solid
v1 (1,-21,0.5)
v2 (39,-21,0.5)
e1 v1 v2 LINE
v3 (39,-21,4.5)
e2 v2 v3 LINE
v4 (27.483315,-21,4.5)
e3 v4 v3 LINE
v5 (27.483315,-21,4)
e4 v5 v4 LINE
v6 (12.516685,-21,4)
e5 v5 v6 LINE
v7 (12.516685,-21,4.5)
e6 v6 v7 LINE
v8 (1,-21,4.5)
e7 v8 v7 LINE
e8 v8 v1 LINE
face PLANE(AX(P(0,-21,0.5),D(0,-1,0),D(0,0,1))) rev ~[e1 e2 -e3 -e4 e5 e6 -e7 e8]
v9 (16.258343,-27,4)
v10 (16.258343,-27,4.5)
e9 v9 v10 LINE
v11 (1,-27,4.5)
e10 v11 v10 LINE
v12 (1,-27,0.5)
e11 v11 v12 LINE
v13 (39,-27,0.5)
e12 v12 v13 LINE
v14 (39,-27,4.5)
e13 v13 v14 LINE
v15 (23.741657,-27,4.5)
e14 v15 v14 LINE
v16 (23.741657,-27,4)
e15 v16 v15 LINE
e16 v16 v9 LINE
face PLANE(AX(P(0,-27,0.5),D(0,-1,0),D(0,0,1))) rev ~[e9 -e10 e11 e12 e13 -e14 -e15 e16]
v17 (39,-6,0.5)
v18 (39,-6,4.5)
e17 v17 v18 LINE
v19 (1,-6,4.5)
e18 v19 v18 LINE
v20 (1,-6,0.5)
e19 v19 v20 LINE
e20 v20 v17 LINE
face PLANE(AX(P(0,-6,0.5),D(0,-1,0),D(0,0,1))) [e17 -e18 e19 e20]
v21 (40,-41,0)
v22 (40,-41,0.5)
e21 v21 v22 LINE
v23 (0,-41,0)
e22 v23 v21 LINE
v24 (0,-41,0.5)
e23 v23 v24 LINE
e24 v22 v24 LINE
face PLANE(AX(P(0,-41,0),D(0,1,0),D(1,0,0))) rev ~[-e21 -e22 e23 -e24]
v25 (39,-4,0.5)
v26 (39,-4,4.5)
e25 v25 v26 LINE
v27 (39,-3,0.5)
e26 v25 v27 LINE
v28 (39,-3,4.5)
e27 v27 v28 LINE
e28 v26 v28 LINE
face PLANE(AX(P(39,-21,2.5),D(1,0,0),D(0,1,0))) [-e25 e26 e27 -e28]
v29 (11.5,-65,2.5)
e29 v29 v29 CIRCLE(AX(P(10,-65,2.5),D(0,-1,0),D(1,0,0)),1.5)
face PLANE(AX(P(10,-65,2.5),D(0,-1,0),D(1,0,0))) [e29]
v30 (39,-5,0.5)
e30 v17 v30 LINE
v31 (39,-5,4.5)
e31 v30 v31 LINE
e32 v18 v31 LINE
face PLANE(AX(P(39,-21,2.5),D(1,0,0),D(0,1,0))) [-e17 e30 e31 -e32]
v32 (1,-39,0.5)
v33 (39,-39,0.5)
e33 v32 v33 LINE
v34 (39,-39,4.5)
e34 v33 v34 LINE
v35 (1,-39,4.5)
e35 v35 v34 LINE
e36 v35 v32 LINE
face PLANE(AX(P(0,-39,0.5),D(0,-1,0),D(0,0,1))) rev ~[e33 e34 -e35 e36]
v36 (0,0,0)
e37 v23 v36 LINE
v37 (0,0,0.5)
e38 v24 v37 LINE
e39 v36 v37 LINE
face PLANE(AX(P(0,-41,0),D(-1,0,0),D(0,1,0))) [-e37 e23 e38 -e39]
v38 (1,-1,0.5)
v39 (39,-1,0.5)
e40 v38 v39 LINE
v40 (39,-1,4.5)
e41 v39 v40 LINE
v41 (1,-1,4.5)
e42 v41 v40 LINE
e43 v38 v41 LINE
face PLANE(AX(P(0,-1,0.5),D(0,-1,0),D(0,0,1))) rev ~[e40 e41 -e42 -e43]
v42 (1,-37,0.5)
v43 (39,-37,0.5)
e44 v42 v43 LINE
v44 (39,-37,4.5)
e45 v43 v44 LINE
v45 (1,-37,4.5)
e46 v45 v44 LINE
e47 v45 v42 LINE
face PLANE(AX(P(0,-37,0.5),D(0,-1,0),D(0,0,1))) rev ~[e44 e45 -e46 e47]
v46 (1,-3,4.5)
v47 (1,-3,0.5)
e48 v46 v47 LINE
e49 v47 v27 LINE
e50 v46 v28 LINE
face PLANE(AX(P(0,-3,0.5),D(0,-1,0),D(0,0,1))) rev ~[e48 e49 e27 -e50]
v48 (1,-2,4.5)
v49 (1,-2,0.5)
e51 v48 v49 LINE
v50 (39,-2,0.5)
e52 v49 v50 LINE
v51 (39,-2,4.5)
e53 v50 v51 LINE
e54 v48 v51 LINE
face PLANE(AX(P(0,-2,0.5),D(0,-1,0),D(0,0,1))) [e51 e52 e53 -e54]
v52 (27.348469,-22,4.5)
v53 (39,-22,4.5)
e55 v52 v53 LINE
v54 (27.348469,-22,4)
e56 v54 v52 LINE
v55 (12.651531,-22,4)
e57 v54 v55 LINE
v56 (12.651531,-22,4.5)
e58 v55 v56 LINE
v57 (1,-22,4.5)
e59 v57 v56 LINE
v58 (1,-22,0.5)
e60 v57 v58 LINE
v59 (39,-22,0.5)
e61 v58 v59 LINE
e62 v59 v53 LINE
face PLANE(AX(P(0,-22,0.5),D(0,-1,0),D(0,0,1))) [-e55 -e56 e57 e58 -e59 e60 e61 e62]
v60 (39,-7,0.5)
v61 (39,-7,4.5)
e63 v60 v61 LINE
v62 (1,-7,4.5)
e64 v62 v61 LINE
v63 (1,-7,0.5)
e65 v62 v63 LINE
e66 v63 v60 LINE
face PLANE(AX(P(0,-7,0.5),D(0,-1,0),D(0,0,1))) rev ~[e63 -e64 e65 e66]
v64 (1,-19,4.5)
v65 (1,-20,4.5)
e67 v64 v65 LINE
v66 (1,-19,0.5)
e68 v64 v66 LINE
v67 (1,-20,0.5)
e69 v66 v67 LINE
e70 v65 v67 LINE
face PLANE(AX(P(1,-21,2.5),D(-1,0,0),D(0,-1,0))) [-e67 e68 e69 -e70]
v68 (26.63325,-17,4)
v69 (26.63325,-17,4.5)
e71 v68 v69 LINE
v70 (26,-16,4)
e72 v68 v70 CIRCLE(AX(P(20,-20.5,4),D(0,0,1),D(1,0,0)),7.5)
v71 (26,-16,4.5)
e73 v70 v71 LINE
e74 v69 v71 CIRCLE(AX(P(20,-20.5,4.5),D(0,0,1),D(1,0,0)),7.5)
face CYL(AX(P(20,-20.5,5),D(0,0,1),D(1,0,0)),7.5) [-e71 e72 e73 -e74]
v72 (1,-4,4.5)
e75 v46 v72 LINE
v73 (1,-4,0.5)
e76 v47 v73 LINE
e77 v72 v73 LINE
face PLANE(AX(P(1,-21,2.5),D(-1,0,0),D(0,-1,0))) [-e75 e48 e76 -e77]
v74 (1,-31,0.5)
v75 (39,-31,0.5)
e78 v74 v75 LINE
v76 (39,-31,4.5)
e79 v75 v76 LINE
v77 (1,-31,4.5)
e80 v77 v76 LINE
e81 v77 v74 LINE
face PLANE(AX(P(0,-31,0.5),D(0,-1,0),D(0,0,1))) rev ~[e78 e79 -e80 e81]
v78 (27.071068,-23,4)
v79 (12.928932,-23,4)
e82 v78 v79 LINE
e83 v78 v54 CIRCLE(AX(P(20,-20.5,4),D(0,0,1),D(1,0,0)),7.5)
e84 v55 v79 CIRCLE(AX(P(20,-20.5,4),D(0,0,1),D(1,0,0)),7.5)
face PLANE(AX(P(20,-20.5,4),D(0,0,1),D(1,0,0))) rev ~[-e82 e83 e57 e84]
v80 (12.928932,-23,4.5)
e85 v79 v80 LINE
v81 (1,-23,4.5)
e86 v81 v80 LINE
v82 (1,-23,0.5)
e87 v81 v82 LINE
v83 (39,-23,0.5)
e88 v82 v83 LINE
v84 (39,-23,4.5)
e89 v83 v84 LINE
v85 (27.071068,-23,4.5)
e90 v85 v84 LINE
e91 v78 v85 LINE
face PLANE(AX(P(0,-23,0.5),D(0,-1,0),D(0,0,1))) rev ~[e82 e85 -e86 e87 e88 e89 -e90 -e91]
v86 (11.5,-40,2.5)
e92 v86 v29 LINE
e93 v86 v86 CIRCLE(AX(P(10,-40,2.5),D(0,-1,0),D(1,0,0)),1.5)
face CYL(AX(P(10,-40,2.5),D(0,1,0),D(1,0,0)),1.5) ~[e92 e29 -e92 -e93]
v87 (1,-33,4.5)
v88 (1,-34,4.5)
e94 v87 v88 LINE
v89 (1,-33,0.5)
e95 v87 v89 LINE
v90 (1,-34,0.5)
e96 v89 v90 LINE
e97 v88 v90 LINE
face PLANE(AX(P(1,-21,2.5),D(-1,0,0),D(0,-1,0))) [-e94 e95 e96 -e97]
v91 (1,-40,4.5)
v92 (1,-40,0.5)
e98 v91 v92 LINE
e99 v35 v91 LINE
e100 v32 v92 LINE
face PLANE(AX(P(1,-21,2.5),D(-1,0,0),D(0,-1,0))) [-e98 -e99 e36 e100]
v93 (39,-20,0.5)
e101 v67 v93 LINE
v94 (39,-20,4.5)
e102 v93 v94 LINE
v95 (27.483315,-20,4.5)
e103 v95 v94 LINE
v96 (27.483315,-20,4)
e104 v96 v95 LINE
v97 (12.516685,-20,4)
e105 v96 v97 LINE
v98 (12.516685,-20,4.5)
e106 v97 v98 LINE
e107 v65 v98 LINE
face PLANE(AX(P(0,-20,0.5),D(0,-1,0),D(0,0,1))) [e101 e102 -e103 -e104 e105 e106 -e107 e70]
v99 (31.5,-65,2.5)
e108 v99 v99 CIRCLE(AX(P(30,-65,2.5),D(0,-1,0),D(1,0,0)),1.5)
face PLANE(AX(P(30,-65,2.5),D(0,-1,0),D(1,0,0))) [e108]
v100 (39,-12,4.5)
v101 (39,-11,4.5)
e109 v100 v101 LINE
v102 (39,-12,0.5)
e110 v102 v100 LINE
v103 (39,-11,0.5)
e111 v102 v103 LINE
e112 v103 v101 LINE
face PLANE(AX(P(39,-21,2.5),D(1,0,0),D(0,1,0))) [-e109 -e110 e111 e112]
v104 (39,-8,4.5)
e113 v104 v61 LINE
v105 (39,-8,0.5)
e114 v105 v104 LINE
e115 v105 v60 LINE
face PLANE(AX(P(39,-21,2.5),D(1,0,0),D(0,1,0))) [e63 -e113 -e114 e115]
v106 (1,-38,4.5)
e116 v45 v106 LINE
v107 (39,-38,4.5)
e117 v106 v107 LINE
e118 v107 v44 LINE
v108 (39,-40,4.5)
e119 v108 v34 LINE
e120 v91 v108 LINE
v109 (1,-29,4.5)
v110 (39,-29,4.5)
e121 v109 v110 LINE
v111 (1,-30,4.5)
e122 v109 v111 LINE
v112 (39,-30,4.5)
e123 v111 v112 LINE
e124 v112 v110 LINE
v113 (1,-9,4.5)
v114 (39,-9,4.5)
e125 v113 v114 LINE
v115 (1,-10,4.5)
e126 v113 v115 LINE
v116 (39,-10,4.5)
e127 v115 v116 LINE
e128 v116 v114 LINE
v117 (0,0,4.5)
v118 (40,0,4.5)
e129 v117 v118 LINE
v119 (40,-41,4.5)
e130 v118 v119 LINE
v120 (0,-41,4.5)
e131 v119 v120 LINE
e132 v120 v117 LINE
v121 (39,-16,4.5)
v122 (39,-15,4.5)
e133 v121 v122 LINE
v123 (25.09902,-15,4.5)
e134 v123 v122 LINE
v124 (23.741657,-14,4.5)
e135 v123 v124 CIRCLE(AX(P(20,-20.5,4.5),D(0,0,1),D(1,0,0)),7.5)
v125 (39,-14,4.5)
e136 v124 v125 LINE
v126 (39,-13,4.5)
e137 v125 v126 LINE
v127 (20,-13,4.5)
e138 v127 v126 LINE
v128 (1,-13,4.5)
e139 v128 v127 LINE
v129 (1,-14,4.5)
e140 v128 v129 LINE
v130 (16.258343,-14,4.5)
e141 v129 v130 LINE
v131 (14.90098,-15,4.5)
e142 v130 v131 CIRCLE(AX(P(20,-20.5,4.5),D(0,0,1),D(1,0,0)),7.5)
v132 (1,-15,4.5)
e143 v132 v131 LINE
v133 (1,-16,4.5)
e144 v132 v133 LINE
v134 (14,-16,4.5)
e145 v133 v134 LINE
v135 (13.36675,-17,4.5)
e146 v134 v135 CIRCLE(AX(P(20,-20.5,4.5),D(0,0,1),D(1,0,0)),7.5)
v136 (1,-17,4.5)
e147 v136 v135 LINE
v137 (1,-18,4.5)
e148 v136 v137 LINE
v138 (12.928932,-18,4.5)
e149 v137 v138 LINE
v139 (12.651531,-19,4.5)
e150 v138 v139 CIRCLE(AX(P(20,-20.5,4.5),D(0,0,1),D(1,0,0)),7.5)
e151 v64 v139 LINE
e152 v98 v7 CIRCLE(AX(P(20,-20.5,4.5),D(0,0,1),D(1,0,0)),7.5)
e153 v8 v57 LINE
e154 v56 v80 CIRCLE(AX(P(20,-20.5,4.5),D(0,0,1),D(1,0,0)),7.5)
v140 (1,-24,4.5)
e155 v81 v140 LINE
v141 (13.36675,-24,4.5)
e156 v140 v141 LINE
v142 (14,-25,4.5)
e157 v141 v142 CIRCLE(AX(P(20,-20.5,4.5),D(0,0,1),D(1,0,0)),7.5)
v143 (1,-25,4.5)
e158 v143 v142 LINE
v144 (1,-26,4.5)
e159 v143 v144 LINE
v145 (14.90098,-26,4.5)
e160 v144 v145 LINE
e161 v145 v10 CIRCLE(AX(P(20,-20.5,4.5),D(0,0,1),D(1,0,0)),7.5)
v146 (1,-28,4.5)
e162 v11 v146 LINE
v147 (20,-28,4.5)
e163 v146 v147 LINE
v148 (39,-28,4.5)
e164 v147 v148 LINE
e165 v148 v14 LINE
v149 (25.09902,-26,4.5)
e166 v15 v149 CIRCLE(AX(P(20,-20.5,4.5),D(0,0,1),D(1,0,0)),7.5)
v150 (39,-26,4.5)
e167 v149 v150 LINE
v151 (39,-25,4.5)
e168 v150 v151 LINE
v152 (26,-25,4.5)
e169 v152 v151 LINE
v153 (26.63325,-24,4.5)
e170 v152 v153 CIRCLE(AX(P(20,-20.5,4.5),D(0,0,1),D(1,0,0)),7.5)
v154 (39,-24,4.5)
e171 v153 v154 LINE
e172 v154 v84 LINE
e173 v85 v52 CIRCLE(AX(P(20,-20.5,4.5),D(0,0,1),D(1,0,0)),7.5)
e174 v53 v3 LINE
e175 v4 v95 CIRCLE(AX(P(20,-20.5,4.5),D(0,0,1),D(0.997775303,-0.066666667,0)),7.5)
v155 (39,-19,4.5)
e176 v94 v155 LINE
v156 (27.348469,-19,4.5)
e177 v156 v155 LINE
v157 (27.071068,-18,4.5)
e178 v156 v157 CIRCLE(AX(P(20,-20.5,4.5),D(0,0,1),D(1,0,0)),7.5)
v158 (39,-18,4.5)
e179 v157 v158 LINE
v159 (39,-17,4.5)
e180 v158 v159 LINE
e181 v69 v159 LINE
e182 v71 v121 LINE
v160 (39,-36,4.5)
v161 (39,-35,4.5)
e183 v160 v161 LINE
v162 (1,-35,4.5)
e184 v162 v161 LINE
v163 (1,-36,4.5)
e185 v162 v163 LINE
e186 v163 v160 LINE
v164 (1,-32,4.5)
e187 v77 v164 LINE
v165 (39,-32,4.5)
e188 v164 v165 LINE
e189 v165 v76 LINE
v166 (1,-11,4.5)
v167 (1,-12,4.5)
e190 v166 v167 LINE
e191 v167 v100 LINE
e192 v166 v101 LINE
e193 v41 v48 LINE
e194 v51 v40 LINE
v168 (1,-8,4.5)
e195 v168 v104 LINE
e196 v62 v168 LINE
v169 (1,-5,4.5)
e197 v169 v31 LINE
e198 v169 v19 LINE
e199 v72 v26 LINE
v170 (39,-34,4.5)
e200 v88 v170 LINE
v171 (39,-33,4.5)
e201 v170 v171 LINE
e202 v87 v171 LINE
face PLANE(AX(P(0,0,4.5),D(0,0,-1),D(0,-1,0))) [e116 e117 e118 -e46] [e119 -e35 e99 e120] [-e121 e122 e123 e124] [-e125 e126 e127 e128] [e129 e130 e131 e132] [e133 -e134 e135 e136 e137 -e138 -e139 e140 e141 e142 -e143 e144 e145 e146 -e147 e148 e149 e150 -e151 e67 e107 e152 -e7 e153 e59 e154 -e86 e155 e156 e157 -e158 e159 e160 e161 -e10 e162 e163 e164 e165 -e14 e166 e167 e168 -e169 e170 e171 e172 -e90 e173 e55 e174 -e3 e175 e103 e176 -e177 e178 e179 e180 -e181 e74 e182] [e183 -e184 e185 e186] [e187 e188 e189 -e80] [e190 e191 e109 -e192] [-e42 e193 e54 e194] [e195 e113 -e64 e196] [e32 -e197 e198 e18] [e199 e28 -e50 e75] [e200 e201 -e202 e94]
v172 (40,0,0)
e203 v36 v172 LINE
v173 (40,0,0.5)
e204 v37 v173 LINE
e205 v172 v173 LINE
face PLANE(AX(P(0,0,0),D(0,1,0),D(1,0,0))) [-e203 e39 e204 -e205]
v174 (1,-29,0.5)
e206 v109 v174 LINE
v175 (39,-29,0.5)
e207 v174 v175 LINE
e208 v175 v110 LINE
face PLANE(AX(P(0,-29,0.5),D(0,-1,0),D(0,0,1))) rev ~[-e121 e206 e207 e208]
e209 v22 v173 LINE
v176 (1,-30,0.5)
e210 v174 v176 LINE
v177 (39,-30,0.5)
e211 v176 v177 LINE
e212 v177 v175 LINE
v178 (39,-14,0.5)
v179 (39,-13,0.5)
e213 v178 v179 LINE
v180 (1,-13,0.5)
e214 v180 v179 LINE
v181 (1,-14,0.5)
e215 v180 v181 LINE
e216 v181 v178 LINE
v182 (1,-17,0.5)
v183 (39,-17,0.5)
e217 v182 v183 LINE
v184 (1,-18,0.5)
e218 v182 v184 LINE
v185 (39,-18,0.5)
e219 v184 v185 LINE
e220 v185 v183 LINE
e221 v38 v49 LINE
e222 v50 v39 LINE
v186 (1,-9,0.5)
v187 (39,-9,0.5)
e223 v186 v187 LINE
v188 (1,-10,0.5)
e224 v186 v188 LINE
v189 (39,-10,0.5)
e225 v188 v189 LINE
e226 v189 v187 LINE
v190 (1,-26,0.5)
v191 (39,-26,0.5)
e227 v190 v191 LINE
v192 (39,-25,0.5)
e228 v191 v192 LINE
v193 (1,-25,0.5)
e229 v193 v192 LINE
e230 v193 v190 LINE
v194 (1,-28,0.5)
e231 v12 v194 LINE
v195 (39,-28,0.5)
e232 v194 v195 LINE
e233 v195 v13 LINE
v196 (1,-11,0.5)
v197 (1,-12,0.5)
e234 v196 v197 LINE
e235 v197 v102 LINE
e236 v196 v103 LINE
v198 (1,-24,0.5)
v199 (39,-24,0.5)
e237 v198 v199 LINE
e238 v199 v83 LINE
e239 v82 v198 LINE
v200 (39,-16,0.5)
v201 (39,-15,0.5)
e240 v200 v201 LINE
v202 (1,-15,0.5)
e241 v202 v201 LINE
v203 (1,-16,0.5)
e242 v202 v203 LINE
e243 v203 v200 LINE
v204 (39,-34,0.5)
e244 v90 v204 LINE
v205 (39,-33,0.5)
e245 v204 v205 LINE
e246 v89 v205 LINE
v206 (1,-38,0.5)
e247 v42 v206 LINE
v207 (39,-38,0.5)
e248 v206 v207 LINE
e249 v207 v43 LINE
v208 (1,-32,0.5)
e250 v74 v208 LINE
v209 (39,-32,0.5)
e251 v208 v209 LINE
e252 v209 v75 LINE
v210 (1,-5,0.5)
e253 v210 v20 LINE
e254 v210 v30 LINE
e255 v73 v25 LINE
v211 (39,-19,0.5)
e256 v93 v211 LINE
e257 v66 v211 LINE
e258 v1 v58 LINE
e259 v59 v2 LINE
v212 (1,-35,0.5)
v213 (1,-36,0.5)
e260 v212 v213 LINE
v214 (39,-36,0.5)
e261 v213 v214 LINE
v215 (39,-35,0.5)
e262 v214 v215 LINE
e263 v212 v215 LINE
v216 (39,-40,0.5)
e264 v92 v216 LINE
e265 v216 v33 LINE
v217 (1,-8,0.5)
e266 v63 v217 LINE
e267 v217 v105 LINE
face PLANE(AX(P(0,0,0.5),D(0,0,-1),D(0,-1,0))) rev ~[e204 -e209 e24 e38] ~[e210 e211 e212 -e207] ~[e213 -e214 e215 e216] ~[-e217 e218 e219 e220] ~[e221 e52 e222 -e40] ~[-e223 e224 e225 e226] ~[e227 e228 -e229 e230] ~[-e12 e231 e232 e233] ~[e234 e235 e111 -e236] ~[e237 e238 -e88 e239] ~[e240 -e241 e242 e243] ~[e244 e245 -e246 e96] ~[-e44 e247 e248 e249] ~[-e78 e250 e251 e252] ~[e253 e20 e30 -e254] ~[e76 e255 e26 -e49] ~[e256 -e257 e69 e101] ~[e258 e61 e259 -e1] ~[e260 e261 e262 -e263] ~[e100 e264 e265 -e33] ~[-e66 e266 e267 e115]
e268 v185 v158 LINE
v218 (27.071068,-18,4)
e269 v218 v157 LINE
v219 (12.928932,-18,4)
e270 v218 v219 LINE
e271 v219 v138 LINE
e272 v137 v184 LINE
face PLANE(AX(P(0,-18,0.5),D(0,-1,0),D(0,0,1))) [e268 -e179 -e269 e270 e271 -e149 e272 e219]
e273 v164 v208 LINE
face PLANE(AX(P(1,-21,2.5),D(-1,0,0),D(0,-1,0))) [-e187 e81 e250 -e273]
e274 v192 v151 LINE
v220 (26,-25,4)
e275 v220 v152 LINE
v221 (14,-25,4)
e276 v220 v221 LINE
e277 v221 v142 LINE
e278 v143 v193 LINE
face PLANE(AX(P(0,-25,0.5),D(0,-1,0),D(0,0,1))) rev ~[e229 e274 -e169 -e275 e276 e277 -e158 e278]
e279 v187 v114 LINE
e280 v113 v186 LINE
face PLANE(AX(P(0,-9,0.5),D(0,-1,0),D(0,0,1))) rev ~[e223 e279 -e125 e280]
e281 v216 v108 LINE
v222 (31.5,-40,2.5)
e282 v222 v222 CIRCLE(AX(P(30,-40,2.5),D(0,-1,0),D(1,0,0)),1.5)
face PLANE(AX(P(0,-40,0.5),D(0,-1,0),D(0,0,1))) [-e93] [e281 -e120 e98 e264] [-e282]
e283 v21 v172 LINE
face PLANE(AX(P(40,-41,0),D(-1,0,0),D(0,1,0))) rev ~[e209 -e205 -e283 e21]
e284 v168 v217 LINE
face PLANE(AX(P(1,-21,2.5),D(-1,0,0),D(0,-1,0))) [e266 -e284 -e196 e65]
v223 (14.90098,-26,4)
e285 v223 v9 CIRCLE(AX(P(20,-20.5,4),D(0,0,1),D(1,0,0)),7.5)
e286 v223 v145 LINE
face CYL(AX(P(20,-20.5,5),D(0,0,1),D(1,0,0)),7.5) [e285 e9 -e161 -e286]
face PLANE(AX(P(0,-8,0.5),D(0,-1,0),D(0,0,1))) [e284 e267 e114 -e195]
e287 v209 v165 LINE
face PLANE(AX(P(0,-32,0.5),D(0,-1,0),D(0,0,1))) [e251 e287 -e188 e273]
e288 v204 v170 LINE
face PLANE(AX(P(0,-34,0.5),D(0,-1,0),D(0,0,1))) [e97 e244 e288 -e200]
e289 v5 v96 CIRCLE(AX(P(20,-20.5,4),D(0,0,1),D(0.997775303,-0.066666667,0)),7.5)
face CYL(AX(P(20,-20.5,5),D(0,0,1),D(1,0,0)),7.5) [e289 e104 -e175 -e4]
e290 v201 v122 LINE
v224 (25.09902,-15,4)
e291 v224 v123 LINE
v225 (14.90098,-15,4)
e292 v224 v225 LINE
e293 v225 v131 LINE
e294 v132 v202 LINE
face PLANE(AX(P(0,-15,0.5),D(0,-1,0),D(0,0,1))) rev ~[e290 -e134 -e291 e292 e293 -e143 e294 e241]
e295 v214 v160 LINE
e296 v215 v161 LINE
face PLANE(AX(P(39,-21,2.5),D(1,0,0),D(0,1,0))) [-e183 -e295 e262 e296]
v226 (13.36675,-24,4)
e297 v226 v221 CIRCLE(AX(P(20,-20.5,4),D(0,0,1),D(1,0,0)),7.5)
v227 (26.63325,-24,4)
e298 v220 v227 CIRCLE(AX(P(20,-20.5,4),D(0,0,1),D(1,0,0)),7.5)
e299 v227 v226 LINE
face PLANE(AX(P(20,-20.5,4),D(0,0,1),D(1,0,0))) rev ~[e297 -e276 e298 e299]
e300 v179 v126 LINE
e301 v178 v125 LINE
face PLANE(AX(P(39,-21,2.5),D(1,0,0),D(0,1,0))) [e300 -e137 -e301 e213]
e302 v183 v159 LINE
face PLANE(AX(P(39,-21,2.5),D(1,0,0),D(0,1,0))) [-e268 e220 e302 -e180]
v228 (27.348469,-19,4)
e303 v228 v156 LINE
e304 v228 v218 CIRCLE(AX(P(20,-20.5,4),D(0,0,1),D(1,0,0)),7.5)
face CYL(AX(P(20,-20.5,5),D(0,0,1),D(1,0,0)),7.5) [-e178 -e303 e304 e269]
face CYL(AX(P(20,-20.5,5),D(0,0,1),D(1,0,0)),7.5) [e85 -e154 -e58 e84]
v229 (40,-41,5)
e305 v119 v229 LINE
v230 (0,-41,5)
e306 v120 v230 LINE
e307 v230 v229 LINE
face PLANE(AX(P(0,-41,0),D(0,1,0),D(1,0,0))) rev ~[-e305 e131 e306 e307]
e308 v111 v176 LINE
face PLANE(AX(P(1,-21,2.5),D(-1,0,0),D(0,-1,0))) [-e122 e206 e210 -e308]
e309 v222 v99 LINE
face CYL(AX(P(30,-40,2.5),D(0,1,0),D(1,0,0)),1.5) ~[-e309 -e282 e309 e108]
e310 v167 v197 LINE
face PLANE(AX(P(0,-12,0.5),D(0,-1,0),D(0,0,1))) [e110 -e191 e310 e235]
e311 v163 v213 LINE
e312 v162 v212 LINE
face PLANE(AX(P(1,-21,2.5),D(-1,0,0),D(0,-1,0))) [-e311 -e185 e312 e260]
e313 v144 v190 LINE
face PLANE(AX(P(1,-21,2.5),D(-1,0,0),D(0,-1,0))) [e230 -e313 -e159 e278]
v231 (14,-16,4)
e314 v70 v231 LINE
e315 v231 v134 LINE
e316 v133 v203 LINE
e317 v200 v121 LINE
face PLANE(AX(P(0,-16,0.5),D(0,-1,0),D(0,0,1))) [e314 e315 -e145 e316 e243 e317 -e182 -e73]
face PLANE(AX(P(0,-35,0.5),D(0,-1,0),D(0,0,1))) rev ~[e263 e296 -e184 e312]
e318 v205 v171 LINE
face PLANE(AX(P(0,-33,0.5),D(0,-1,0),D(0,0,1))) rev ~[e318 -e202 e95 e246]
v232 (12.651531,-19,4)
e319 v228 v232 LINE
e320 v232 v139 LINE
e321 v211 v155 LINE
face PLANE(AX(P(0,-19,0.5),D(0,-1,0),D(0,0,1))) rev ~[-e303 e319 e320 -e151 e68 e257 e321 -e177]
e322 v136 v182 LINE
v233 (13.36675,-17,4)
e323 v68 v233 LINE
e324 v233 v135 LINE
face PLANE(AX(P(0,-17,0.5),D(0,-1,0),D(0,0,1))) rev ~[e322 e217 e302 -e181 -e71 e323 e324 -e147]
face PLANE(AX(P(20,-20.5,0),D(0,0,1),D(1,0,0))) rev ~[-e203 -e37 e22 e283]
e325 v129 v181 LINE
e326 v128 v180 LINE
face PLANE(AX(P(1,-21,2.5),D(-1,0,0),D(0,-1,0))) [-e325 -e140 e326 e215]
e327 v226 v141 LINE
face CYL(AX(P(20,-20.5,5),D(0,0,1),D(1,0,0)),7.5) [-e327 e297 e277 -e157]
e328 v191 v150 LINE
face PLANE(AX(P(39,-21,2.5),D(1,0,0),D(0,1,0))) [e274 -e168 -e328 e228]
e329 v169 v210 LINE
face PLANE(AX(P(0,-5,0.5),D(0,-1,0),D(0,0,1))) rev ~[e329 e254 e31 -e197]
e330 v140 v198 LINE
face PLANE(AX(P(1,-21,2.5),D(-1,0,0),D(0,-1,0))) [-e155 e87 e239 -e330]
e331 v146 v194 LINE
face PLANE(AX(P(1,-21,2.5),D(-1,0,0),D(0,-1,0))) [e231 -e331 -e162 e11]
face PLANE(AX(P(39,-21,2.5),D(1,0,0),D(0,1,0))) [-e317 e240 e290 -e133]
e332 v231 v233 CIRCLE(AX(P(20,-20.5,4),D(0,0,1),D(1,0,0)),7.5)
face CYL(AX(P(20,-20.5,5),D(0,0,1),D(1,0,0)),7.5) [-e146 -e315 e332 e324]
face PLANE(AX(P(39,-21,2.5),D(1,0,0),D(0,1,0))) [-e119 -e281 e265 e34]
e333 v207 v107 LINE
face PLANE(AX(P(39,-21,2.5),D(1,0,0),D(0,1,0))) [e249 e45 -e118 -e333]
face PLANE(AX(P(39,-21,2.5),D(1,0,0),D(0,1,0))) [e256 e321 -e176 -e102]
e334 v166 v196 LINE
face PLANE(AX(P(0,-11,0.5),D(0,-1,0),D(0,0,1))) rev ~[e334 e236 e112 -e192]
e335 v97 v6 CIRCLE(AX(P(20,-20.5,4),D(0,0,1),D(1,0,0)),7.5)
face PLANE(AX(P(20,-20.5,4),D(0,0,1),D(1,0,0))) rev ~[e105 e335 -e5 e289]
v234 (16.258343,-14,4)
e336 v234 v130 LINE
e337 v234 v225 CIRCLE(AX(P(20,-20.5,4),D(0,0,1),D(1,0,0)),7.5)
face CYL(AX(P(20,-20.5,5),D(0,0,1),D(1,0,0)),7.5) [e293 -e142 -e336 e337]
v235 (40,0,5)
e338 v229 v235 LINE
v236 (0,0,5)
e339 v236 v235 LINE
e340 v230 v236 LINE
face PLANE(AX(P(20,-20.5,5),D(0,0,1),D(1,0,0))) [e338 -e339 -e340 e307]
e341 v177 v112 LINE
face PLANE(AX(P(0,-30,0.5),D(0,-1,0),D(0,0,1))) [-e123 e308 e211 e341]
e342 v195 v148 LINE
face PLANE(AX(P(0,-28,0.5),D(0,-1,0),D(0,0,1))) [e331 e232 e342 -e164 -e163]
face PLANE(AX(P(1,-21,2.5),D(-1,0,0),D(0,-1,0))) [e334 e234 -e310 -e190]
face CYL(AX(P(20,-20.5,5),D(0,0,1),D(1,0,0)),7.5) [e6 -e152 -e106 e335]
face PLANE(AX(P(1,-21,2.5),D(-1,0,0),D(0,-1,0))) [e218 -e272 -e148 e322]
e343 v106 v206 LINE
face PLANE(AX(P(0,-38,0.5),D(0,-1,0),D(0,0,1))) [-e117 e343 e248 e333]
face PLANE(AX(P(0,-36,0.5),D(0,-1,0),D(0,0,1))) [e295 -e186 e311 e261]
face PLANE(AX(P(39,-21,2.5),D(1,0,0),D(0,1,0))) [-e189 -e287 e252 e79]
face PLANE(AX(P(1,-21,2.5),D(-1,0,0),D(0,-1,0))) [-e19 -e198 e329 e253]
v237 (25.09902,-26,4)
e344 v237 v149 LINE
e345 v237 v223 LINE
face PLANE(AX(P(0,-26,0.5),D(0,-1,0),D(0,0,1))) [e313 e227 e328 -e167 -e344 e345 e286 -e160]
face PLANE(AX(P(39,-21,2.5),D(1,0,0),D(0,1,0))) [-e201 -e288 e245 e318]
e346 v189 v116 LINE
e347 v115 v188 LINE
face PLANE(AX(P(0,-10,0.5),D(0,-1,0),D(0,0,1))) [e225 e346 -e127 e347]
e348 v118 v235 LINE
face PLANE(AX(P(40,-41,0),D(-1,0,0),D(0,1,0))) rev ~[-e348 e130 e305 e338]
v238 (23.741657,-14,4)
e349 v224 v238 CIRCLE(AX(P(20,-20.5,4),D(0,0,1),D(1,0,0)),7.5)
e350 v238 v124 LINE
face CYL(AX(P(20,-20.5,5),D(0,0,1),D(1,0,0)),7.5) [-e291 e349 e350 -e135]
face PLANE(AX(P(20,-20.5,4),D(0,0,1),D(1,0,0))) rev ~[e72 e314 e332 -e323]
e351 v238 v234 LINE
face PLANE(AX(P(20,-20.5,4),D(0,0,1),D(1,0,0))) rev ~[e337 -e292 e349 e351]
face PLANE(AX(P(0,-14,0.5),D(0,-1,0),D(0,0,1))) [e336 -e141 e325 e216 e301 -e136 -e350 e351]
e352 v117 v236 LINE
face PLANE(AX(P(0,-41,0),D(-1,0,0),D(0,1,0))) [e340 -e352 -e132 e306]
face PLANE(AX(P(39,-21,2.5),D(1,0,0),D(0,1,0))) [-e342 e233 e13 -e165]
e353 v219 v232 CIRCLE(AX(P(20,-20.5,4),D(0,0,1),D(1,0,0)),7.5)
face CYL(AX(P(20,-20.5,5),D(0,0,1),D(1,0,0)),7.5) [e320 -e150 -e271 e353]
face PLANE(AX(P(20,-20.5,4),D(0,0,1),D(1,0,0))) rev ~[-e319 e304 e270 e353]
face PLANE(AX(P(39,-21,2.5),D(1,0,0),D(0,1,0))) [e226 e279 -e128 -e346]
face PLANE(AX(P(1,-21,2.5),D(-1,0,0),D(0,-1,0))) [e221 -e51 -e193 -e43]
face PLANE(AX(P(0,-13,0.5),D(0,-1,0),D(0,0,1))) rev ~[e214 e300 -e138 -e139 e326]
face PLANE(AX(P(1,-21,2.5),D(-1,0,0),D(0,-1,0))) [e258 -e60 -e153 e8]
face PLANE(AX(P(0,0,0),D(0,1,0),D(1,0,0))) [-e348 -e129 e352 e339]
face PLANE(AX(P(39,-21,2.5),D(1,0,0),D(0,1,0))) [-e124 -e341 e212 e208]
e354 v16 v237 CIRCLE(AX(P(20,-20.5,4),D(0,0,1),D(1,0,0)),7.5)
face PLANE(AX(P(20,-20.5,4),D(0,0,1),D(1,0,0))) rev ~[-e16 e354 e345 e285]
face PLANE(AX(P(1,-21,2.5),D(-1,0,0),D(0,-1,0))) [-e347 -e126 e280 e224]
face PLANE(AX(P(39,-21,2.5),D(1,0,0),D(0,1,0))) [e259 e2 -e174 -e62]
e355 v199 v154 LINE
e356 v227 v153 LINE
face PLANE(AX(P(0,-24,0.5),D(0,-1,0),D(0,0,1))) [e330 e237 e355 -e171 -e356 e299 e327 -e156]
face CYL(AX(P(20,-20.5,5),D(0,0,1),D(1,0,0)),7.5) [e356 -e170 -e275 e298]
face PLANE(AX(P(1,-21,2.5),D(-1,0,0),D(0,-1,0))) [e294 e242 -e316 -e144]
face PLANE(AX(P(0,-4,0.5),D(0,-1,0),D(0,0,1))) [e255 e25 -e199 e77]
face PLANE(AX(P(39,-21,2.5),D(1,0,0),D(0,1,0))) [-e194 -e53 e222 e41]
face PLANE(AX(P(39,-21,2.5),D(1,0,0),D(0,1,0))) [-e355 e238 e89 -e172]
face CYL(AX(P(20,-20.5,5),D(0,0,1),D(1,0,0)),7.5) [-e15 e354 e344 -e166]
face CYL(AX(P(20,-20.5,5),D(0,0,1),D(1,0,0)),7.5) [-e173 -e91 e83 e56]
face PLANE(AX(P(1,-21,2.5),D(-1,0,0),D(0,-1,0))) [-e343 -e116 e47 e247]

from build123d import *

# Parameters (mm, degrees)
F0_W      = 40
F0_H      = 41
F1_DEPTH  = 5
F2_W      = 1
F2_H      = 4
F3_DEPTH  = 40.001
F4_W      = 40
F4_H      = 4
F5_DEPTH  = 1
F6_W      = 40
F6_H      = 4
F7_DEPTH  = 1
F8_R      = 1.5
F9_DEPTH  = 25
F10_R     = 7.5
F11_DEPTH = 1


with BuildPart() as f1:
    # F0 (on Top) → F1 (new body)
    with BuildSketch(Plane.XY):
        with Locations((20, -20.5)):
            Rectangle(F0_W, F0_H)
    extrude(amount=F1_DEPTH)

    # F2 (on face) → F3 (cut, through all)
    with BuildSketch(Plane(origin=(0, 0, 0), x_dir=(0, -1, 0), z_dir=(-1, 0, 0))):
        with Locations((0.5, 2.5)):
            Rectangle(F2_W, F2_H)
        with Locations((2.5, 2.5)):
            Rectangle(F2_W, F2_H)
        with Locations((4.5, 2.5)):
            Rectangle(F2_W, F2_H)
        with Locations((6.5, 2.5)):
            Rectangle(F2_W, F2_H)
        with Locations((8.5, 2.5)):
            Rectangle(F2_W, F2_H)
        with Locations((10.5, 2.5)):
            Rectangle(F2_W, F2_H)
        with Locations((12.5, 2.5)):
            Rectangle(F2_W, F2_H)
        with Locations((14.5, 2.5)):
            Rectangle(F2_W, F2_H)
        with Locations((16.5, 2.5)):
            Rectangle(F2_W, F2_H)
        with Locations((18.5, 2.5)):
            Rectangle(F2_W, F2_H)
        with Locations((20.5, 2.5)):
            Rectangle(F2_W, F2_H)
        with Locations((22.5, 2.5)):
            Rectangle(F2_W, F2_H)
        with Locations((24.5, 2.5)):
            Rectangle(F2_W, F2_H)
        with Locations((26.5, 2.5)):
            Rectangle(F2_W, F2_H)
        with Locations((28.5, 2.5)):
            Rectangle(F2_W, F2_H)
        with Locations((30.5, 2.5)):
            Rectangle(F2_W, F2_H)
        with Locations((32.5, 2.5)):
            Rectangle(F2_W, F2_H)
        with Locations((34.5, 2.5)):
            Rectangle(F2_W, F2_H)
        with Locations((36.5, 2.5)):
            Rectangle(F2_W, F2_H)
        with Locations((38.5, 2.5)):
            Rectangle(F2_W, F2_H)
        with Locations((40.5, 2.5)):
            Rectangle(F2_W, F2_H)
    extrude(amount=-F3_DEPTH, mode=Mode.SUBTRACT)

    # F4 (on face) → F5 (cut)
    with BuildSketch(Plane(origin=(0, 0, 0), x_dir=(0, -1, 0), z_dir=(-1, 0, 0))):
        with Locations((21, 2.5)):
            Rectangle(F4_W, F4_H)
    extrude(amount=-F5_DEPTH, mode=Mode.SUBTRACT)

    # F6 (on face) → F7 (cut)
    with BuildSketch(Plane.YZ.offset(40)):
        with Locations((-21, 2.5)):
            Rectangle(F6_W, F6_H)
    extrude(amount=-F7_DEPTH, mode=Mode.SUBTRACT)

    # F8 (on face) → F9 (join)
    with BuildSketch(Plane.XZ.offset(40)):
        with Locations((10, 2.5)):
            Circle(F8_R)
        with Locations((30, 2.5)):
            Circle(F8_R)
    extrude(amount=F9_DEPTH)

    # F10 (on face) → F11 (join)
    with BuildSketch(Plane.XY.offset(5)):
        with Locations((20, -20.5)):
            Circle(F10_R)
    extrude(amount=-F11_DEPTH)


solid = f1.part
